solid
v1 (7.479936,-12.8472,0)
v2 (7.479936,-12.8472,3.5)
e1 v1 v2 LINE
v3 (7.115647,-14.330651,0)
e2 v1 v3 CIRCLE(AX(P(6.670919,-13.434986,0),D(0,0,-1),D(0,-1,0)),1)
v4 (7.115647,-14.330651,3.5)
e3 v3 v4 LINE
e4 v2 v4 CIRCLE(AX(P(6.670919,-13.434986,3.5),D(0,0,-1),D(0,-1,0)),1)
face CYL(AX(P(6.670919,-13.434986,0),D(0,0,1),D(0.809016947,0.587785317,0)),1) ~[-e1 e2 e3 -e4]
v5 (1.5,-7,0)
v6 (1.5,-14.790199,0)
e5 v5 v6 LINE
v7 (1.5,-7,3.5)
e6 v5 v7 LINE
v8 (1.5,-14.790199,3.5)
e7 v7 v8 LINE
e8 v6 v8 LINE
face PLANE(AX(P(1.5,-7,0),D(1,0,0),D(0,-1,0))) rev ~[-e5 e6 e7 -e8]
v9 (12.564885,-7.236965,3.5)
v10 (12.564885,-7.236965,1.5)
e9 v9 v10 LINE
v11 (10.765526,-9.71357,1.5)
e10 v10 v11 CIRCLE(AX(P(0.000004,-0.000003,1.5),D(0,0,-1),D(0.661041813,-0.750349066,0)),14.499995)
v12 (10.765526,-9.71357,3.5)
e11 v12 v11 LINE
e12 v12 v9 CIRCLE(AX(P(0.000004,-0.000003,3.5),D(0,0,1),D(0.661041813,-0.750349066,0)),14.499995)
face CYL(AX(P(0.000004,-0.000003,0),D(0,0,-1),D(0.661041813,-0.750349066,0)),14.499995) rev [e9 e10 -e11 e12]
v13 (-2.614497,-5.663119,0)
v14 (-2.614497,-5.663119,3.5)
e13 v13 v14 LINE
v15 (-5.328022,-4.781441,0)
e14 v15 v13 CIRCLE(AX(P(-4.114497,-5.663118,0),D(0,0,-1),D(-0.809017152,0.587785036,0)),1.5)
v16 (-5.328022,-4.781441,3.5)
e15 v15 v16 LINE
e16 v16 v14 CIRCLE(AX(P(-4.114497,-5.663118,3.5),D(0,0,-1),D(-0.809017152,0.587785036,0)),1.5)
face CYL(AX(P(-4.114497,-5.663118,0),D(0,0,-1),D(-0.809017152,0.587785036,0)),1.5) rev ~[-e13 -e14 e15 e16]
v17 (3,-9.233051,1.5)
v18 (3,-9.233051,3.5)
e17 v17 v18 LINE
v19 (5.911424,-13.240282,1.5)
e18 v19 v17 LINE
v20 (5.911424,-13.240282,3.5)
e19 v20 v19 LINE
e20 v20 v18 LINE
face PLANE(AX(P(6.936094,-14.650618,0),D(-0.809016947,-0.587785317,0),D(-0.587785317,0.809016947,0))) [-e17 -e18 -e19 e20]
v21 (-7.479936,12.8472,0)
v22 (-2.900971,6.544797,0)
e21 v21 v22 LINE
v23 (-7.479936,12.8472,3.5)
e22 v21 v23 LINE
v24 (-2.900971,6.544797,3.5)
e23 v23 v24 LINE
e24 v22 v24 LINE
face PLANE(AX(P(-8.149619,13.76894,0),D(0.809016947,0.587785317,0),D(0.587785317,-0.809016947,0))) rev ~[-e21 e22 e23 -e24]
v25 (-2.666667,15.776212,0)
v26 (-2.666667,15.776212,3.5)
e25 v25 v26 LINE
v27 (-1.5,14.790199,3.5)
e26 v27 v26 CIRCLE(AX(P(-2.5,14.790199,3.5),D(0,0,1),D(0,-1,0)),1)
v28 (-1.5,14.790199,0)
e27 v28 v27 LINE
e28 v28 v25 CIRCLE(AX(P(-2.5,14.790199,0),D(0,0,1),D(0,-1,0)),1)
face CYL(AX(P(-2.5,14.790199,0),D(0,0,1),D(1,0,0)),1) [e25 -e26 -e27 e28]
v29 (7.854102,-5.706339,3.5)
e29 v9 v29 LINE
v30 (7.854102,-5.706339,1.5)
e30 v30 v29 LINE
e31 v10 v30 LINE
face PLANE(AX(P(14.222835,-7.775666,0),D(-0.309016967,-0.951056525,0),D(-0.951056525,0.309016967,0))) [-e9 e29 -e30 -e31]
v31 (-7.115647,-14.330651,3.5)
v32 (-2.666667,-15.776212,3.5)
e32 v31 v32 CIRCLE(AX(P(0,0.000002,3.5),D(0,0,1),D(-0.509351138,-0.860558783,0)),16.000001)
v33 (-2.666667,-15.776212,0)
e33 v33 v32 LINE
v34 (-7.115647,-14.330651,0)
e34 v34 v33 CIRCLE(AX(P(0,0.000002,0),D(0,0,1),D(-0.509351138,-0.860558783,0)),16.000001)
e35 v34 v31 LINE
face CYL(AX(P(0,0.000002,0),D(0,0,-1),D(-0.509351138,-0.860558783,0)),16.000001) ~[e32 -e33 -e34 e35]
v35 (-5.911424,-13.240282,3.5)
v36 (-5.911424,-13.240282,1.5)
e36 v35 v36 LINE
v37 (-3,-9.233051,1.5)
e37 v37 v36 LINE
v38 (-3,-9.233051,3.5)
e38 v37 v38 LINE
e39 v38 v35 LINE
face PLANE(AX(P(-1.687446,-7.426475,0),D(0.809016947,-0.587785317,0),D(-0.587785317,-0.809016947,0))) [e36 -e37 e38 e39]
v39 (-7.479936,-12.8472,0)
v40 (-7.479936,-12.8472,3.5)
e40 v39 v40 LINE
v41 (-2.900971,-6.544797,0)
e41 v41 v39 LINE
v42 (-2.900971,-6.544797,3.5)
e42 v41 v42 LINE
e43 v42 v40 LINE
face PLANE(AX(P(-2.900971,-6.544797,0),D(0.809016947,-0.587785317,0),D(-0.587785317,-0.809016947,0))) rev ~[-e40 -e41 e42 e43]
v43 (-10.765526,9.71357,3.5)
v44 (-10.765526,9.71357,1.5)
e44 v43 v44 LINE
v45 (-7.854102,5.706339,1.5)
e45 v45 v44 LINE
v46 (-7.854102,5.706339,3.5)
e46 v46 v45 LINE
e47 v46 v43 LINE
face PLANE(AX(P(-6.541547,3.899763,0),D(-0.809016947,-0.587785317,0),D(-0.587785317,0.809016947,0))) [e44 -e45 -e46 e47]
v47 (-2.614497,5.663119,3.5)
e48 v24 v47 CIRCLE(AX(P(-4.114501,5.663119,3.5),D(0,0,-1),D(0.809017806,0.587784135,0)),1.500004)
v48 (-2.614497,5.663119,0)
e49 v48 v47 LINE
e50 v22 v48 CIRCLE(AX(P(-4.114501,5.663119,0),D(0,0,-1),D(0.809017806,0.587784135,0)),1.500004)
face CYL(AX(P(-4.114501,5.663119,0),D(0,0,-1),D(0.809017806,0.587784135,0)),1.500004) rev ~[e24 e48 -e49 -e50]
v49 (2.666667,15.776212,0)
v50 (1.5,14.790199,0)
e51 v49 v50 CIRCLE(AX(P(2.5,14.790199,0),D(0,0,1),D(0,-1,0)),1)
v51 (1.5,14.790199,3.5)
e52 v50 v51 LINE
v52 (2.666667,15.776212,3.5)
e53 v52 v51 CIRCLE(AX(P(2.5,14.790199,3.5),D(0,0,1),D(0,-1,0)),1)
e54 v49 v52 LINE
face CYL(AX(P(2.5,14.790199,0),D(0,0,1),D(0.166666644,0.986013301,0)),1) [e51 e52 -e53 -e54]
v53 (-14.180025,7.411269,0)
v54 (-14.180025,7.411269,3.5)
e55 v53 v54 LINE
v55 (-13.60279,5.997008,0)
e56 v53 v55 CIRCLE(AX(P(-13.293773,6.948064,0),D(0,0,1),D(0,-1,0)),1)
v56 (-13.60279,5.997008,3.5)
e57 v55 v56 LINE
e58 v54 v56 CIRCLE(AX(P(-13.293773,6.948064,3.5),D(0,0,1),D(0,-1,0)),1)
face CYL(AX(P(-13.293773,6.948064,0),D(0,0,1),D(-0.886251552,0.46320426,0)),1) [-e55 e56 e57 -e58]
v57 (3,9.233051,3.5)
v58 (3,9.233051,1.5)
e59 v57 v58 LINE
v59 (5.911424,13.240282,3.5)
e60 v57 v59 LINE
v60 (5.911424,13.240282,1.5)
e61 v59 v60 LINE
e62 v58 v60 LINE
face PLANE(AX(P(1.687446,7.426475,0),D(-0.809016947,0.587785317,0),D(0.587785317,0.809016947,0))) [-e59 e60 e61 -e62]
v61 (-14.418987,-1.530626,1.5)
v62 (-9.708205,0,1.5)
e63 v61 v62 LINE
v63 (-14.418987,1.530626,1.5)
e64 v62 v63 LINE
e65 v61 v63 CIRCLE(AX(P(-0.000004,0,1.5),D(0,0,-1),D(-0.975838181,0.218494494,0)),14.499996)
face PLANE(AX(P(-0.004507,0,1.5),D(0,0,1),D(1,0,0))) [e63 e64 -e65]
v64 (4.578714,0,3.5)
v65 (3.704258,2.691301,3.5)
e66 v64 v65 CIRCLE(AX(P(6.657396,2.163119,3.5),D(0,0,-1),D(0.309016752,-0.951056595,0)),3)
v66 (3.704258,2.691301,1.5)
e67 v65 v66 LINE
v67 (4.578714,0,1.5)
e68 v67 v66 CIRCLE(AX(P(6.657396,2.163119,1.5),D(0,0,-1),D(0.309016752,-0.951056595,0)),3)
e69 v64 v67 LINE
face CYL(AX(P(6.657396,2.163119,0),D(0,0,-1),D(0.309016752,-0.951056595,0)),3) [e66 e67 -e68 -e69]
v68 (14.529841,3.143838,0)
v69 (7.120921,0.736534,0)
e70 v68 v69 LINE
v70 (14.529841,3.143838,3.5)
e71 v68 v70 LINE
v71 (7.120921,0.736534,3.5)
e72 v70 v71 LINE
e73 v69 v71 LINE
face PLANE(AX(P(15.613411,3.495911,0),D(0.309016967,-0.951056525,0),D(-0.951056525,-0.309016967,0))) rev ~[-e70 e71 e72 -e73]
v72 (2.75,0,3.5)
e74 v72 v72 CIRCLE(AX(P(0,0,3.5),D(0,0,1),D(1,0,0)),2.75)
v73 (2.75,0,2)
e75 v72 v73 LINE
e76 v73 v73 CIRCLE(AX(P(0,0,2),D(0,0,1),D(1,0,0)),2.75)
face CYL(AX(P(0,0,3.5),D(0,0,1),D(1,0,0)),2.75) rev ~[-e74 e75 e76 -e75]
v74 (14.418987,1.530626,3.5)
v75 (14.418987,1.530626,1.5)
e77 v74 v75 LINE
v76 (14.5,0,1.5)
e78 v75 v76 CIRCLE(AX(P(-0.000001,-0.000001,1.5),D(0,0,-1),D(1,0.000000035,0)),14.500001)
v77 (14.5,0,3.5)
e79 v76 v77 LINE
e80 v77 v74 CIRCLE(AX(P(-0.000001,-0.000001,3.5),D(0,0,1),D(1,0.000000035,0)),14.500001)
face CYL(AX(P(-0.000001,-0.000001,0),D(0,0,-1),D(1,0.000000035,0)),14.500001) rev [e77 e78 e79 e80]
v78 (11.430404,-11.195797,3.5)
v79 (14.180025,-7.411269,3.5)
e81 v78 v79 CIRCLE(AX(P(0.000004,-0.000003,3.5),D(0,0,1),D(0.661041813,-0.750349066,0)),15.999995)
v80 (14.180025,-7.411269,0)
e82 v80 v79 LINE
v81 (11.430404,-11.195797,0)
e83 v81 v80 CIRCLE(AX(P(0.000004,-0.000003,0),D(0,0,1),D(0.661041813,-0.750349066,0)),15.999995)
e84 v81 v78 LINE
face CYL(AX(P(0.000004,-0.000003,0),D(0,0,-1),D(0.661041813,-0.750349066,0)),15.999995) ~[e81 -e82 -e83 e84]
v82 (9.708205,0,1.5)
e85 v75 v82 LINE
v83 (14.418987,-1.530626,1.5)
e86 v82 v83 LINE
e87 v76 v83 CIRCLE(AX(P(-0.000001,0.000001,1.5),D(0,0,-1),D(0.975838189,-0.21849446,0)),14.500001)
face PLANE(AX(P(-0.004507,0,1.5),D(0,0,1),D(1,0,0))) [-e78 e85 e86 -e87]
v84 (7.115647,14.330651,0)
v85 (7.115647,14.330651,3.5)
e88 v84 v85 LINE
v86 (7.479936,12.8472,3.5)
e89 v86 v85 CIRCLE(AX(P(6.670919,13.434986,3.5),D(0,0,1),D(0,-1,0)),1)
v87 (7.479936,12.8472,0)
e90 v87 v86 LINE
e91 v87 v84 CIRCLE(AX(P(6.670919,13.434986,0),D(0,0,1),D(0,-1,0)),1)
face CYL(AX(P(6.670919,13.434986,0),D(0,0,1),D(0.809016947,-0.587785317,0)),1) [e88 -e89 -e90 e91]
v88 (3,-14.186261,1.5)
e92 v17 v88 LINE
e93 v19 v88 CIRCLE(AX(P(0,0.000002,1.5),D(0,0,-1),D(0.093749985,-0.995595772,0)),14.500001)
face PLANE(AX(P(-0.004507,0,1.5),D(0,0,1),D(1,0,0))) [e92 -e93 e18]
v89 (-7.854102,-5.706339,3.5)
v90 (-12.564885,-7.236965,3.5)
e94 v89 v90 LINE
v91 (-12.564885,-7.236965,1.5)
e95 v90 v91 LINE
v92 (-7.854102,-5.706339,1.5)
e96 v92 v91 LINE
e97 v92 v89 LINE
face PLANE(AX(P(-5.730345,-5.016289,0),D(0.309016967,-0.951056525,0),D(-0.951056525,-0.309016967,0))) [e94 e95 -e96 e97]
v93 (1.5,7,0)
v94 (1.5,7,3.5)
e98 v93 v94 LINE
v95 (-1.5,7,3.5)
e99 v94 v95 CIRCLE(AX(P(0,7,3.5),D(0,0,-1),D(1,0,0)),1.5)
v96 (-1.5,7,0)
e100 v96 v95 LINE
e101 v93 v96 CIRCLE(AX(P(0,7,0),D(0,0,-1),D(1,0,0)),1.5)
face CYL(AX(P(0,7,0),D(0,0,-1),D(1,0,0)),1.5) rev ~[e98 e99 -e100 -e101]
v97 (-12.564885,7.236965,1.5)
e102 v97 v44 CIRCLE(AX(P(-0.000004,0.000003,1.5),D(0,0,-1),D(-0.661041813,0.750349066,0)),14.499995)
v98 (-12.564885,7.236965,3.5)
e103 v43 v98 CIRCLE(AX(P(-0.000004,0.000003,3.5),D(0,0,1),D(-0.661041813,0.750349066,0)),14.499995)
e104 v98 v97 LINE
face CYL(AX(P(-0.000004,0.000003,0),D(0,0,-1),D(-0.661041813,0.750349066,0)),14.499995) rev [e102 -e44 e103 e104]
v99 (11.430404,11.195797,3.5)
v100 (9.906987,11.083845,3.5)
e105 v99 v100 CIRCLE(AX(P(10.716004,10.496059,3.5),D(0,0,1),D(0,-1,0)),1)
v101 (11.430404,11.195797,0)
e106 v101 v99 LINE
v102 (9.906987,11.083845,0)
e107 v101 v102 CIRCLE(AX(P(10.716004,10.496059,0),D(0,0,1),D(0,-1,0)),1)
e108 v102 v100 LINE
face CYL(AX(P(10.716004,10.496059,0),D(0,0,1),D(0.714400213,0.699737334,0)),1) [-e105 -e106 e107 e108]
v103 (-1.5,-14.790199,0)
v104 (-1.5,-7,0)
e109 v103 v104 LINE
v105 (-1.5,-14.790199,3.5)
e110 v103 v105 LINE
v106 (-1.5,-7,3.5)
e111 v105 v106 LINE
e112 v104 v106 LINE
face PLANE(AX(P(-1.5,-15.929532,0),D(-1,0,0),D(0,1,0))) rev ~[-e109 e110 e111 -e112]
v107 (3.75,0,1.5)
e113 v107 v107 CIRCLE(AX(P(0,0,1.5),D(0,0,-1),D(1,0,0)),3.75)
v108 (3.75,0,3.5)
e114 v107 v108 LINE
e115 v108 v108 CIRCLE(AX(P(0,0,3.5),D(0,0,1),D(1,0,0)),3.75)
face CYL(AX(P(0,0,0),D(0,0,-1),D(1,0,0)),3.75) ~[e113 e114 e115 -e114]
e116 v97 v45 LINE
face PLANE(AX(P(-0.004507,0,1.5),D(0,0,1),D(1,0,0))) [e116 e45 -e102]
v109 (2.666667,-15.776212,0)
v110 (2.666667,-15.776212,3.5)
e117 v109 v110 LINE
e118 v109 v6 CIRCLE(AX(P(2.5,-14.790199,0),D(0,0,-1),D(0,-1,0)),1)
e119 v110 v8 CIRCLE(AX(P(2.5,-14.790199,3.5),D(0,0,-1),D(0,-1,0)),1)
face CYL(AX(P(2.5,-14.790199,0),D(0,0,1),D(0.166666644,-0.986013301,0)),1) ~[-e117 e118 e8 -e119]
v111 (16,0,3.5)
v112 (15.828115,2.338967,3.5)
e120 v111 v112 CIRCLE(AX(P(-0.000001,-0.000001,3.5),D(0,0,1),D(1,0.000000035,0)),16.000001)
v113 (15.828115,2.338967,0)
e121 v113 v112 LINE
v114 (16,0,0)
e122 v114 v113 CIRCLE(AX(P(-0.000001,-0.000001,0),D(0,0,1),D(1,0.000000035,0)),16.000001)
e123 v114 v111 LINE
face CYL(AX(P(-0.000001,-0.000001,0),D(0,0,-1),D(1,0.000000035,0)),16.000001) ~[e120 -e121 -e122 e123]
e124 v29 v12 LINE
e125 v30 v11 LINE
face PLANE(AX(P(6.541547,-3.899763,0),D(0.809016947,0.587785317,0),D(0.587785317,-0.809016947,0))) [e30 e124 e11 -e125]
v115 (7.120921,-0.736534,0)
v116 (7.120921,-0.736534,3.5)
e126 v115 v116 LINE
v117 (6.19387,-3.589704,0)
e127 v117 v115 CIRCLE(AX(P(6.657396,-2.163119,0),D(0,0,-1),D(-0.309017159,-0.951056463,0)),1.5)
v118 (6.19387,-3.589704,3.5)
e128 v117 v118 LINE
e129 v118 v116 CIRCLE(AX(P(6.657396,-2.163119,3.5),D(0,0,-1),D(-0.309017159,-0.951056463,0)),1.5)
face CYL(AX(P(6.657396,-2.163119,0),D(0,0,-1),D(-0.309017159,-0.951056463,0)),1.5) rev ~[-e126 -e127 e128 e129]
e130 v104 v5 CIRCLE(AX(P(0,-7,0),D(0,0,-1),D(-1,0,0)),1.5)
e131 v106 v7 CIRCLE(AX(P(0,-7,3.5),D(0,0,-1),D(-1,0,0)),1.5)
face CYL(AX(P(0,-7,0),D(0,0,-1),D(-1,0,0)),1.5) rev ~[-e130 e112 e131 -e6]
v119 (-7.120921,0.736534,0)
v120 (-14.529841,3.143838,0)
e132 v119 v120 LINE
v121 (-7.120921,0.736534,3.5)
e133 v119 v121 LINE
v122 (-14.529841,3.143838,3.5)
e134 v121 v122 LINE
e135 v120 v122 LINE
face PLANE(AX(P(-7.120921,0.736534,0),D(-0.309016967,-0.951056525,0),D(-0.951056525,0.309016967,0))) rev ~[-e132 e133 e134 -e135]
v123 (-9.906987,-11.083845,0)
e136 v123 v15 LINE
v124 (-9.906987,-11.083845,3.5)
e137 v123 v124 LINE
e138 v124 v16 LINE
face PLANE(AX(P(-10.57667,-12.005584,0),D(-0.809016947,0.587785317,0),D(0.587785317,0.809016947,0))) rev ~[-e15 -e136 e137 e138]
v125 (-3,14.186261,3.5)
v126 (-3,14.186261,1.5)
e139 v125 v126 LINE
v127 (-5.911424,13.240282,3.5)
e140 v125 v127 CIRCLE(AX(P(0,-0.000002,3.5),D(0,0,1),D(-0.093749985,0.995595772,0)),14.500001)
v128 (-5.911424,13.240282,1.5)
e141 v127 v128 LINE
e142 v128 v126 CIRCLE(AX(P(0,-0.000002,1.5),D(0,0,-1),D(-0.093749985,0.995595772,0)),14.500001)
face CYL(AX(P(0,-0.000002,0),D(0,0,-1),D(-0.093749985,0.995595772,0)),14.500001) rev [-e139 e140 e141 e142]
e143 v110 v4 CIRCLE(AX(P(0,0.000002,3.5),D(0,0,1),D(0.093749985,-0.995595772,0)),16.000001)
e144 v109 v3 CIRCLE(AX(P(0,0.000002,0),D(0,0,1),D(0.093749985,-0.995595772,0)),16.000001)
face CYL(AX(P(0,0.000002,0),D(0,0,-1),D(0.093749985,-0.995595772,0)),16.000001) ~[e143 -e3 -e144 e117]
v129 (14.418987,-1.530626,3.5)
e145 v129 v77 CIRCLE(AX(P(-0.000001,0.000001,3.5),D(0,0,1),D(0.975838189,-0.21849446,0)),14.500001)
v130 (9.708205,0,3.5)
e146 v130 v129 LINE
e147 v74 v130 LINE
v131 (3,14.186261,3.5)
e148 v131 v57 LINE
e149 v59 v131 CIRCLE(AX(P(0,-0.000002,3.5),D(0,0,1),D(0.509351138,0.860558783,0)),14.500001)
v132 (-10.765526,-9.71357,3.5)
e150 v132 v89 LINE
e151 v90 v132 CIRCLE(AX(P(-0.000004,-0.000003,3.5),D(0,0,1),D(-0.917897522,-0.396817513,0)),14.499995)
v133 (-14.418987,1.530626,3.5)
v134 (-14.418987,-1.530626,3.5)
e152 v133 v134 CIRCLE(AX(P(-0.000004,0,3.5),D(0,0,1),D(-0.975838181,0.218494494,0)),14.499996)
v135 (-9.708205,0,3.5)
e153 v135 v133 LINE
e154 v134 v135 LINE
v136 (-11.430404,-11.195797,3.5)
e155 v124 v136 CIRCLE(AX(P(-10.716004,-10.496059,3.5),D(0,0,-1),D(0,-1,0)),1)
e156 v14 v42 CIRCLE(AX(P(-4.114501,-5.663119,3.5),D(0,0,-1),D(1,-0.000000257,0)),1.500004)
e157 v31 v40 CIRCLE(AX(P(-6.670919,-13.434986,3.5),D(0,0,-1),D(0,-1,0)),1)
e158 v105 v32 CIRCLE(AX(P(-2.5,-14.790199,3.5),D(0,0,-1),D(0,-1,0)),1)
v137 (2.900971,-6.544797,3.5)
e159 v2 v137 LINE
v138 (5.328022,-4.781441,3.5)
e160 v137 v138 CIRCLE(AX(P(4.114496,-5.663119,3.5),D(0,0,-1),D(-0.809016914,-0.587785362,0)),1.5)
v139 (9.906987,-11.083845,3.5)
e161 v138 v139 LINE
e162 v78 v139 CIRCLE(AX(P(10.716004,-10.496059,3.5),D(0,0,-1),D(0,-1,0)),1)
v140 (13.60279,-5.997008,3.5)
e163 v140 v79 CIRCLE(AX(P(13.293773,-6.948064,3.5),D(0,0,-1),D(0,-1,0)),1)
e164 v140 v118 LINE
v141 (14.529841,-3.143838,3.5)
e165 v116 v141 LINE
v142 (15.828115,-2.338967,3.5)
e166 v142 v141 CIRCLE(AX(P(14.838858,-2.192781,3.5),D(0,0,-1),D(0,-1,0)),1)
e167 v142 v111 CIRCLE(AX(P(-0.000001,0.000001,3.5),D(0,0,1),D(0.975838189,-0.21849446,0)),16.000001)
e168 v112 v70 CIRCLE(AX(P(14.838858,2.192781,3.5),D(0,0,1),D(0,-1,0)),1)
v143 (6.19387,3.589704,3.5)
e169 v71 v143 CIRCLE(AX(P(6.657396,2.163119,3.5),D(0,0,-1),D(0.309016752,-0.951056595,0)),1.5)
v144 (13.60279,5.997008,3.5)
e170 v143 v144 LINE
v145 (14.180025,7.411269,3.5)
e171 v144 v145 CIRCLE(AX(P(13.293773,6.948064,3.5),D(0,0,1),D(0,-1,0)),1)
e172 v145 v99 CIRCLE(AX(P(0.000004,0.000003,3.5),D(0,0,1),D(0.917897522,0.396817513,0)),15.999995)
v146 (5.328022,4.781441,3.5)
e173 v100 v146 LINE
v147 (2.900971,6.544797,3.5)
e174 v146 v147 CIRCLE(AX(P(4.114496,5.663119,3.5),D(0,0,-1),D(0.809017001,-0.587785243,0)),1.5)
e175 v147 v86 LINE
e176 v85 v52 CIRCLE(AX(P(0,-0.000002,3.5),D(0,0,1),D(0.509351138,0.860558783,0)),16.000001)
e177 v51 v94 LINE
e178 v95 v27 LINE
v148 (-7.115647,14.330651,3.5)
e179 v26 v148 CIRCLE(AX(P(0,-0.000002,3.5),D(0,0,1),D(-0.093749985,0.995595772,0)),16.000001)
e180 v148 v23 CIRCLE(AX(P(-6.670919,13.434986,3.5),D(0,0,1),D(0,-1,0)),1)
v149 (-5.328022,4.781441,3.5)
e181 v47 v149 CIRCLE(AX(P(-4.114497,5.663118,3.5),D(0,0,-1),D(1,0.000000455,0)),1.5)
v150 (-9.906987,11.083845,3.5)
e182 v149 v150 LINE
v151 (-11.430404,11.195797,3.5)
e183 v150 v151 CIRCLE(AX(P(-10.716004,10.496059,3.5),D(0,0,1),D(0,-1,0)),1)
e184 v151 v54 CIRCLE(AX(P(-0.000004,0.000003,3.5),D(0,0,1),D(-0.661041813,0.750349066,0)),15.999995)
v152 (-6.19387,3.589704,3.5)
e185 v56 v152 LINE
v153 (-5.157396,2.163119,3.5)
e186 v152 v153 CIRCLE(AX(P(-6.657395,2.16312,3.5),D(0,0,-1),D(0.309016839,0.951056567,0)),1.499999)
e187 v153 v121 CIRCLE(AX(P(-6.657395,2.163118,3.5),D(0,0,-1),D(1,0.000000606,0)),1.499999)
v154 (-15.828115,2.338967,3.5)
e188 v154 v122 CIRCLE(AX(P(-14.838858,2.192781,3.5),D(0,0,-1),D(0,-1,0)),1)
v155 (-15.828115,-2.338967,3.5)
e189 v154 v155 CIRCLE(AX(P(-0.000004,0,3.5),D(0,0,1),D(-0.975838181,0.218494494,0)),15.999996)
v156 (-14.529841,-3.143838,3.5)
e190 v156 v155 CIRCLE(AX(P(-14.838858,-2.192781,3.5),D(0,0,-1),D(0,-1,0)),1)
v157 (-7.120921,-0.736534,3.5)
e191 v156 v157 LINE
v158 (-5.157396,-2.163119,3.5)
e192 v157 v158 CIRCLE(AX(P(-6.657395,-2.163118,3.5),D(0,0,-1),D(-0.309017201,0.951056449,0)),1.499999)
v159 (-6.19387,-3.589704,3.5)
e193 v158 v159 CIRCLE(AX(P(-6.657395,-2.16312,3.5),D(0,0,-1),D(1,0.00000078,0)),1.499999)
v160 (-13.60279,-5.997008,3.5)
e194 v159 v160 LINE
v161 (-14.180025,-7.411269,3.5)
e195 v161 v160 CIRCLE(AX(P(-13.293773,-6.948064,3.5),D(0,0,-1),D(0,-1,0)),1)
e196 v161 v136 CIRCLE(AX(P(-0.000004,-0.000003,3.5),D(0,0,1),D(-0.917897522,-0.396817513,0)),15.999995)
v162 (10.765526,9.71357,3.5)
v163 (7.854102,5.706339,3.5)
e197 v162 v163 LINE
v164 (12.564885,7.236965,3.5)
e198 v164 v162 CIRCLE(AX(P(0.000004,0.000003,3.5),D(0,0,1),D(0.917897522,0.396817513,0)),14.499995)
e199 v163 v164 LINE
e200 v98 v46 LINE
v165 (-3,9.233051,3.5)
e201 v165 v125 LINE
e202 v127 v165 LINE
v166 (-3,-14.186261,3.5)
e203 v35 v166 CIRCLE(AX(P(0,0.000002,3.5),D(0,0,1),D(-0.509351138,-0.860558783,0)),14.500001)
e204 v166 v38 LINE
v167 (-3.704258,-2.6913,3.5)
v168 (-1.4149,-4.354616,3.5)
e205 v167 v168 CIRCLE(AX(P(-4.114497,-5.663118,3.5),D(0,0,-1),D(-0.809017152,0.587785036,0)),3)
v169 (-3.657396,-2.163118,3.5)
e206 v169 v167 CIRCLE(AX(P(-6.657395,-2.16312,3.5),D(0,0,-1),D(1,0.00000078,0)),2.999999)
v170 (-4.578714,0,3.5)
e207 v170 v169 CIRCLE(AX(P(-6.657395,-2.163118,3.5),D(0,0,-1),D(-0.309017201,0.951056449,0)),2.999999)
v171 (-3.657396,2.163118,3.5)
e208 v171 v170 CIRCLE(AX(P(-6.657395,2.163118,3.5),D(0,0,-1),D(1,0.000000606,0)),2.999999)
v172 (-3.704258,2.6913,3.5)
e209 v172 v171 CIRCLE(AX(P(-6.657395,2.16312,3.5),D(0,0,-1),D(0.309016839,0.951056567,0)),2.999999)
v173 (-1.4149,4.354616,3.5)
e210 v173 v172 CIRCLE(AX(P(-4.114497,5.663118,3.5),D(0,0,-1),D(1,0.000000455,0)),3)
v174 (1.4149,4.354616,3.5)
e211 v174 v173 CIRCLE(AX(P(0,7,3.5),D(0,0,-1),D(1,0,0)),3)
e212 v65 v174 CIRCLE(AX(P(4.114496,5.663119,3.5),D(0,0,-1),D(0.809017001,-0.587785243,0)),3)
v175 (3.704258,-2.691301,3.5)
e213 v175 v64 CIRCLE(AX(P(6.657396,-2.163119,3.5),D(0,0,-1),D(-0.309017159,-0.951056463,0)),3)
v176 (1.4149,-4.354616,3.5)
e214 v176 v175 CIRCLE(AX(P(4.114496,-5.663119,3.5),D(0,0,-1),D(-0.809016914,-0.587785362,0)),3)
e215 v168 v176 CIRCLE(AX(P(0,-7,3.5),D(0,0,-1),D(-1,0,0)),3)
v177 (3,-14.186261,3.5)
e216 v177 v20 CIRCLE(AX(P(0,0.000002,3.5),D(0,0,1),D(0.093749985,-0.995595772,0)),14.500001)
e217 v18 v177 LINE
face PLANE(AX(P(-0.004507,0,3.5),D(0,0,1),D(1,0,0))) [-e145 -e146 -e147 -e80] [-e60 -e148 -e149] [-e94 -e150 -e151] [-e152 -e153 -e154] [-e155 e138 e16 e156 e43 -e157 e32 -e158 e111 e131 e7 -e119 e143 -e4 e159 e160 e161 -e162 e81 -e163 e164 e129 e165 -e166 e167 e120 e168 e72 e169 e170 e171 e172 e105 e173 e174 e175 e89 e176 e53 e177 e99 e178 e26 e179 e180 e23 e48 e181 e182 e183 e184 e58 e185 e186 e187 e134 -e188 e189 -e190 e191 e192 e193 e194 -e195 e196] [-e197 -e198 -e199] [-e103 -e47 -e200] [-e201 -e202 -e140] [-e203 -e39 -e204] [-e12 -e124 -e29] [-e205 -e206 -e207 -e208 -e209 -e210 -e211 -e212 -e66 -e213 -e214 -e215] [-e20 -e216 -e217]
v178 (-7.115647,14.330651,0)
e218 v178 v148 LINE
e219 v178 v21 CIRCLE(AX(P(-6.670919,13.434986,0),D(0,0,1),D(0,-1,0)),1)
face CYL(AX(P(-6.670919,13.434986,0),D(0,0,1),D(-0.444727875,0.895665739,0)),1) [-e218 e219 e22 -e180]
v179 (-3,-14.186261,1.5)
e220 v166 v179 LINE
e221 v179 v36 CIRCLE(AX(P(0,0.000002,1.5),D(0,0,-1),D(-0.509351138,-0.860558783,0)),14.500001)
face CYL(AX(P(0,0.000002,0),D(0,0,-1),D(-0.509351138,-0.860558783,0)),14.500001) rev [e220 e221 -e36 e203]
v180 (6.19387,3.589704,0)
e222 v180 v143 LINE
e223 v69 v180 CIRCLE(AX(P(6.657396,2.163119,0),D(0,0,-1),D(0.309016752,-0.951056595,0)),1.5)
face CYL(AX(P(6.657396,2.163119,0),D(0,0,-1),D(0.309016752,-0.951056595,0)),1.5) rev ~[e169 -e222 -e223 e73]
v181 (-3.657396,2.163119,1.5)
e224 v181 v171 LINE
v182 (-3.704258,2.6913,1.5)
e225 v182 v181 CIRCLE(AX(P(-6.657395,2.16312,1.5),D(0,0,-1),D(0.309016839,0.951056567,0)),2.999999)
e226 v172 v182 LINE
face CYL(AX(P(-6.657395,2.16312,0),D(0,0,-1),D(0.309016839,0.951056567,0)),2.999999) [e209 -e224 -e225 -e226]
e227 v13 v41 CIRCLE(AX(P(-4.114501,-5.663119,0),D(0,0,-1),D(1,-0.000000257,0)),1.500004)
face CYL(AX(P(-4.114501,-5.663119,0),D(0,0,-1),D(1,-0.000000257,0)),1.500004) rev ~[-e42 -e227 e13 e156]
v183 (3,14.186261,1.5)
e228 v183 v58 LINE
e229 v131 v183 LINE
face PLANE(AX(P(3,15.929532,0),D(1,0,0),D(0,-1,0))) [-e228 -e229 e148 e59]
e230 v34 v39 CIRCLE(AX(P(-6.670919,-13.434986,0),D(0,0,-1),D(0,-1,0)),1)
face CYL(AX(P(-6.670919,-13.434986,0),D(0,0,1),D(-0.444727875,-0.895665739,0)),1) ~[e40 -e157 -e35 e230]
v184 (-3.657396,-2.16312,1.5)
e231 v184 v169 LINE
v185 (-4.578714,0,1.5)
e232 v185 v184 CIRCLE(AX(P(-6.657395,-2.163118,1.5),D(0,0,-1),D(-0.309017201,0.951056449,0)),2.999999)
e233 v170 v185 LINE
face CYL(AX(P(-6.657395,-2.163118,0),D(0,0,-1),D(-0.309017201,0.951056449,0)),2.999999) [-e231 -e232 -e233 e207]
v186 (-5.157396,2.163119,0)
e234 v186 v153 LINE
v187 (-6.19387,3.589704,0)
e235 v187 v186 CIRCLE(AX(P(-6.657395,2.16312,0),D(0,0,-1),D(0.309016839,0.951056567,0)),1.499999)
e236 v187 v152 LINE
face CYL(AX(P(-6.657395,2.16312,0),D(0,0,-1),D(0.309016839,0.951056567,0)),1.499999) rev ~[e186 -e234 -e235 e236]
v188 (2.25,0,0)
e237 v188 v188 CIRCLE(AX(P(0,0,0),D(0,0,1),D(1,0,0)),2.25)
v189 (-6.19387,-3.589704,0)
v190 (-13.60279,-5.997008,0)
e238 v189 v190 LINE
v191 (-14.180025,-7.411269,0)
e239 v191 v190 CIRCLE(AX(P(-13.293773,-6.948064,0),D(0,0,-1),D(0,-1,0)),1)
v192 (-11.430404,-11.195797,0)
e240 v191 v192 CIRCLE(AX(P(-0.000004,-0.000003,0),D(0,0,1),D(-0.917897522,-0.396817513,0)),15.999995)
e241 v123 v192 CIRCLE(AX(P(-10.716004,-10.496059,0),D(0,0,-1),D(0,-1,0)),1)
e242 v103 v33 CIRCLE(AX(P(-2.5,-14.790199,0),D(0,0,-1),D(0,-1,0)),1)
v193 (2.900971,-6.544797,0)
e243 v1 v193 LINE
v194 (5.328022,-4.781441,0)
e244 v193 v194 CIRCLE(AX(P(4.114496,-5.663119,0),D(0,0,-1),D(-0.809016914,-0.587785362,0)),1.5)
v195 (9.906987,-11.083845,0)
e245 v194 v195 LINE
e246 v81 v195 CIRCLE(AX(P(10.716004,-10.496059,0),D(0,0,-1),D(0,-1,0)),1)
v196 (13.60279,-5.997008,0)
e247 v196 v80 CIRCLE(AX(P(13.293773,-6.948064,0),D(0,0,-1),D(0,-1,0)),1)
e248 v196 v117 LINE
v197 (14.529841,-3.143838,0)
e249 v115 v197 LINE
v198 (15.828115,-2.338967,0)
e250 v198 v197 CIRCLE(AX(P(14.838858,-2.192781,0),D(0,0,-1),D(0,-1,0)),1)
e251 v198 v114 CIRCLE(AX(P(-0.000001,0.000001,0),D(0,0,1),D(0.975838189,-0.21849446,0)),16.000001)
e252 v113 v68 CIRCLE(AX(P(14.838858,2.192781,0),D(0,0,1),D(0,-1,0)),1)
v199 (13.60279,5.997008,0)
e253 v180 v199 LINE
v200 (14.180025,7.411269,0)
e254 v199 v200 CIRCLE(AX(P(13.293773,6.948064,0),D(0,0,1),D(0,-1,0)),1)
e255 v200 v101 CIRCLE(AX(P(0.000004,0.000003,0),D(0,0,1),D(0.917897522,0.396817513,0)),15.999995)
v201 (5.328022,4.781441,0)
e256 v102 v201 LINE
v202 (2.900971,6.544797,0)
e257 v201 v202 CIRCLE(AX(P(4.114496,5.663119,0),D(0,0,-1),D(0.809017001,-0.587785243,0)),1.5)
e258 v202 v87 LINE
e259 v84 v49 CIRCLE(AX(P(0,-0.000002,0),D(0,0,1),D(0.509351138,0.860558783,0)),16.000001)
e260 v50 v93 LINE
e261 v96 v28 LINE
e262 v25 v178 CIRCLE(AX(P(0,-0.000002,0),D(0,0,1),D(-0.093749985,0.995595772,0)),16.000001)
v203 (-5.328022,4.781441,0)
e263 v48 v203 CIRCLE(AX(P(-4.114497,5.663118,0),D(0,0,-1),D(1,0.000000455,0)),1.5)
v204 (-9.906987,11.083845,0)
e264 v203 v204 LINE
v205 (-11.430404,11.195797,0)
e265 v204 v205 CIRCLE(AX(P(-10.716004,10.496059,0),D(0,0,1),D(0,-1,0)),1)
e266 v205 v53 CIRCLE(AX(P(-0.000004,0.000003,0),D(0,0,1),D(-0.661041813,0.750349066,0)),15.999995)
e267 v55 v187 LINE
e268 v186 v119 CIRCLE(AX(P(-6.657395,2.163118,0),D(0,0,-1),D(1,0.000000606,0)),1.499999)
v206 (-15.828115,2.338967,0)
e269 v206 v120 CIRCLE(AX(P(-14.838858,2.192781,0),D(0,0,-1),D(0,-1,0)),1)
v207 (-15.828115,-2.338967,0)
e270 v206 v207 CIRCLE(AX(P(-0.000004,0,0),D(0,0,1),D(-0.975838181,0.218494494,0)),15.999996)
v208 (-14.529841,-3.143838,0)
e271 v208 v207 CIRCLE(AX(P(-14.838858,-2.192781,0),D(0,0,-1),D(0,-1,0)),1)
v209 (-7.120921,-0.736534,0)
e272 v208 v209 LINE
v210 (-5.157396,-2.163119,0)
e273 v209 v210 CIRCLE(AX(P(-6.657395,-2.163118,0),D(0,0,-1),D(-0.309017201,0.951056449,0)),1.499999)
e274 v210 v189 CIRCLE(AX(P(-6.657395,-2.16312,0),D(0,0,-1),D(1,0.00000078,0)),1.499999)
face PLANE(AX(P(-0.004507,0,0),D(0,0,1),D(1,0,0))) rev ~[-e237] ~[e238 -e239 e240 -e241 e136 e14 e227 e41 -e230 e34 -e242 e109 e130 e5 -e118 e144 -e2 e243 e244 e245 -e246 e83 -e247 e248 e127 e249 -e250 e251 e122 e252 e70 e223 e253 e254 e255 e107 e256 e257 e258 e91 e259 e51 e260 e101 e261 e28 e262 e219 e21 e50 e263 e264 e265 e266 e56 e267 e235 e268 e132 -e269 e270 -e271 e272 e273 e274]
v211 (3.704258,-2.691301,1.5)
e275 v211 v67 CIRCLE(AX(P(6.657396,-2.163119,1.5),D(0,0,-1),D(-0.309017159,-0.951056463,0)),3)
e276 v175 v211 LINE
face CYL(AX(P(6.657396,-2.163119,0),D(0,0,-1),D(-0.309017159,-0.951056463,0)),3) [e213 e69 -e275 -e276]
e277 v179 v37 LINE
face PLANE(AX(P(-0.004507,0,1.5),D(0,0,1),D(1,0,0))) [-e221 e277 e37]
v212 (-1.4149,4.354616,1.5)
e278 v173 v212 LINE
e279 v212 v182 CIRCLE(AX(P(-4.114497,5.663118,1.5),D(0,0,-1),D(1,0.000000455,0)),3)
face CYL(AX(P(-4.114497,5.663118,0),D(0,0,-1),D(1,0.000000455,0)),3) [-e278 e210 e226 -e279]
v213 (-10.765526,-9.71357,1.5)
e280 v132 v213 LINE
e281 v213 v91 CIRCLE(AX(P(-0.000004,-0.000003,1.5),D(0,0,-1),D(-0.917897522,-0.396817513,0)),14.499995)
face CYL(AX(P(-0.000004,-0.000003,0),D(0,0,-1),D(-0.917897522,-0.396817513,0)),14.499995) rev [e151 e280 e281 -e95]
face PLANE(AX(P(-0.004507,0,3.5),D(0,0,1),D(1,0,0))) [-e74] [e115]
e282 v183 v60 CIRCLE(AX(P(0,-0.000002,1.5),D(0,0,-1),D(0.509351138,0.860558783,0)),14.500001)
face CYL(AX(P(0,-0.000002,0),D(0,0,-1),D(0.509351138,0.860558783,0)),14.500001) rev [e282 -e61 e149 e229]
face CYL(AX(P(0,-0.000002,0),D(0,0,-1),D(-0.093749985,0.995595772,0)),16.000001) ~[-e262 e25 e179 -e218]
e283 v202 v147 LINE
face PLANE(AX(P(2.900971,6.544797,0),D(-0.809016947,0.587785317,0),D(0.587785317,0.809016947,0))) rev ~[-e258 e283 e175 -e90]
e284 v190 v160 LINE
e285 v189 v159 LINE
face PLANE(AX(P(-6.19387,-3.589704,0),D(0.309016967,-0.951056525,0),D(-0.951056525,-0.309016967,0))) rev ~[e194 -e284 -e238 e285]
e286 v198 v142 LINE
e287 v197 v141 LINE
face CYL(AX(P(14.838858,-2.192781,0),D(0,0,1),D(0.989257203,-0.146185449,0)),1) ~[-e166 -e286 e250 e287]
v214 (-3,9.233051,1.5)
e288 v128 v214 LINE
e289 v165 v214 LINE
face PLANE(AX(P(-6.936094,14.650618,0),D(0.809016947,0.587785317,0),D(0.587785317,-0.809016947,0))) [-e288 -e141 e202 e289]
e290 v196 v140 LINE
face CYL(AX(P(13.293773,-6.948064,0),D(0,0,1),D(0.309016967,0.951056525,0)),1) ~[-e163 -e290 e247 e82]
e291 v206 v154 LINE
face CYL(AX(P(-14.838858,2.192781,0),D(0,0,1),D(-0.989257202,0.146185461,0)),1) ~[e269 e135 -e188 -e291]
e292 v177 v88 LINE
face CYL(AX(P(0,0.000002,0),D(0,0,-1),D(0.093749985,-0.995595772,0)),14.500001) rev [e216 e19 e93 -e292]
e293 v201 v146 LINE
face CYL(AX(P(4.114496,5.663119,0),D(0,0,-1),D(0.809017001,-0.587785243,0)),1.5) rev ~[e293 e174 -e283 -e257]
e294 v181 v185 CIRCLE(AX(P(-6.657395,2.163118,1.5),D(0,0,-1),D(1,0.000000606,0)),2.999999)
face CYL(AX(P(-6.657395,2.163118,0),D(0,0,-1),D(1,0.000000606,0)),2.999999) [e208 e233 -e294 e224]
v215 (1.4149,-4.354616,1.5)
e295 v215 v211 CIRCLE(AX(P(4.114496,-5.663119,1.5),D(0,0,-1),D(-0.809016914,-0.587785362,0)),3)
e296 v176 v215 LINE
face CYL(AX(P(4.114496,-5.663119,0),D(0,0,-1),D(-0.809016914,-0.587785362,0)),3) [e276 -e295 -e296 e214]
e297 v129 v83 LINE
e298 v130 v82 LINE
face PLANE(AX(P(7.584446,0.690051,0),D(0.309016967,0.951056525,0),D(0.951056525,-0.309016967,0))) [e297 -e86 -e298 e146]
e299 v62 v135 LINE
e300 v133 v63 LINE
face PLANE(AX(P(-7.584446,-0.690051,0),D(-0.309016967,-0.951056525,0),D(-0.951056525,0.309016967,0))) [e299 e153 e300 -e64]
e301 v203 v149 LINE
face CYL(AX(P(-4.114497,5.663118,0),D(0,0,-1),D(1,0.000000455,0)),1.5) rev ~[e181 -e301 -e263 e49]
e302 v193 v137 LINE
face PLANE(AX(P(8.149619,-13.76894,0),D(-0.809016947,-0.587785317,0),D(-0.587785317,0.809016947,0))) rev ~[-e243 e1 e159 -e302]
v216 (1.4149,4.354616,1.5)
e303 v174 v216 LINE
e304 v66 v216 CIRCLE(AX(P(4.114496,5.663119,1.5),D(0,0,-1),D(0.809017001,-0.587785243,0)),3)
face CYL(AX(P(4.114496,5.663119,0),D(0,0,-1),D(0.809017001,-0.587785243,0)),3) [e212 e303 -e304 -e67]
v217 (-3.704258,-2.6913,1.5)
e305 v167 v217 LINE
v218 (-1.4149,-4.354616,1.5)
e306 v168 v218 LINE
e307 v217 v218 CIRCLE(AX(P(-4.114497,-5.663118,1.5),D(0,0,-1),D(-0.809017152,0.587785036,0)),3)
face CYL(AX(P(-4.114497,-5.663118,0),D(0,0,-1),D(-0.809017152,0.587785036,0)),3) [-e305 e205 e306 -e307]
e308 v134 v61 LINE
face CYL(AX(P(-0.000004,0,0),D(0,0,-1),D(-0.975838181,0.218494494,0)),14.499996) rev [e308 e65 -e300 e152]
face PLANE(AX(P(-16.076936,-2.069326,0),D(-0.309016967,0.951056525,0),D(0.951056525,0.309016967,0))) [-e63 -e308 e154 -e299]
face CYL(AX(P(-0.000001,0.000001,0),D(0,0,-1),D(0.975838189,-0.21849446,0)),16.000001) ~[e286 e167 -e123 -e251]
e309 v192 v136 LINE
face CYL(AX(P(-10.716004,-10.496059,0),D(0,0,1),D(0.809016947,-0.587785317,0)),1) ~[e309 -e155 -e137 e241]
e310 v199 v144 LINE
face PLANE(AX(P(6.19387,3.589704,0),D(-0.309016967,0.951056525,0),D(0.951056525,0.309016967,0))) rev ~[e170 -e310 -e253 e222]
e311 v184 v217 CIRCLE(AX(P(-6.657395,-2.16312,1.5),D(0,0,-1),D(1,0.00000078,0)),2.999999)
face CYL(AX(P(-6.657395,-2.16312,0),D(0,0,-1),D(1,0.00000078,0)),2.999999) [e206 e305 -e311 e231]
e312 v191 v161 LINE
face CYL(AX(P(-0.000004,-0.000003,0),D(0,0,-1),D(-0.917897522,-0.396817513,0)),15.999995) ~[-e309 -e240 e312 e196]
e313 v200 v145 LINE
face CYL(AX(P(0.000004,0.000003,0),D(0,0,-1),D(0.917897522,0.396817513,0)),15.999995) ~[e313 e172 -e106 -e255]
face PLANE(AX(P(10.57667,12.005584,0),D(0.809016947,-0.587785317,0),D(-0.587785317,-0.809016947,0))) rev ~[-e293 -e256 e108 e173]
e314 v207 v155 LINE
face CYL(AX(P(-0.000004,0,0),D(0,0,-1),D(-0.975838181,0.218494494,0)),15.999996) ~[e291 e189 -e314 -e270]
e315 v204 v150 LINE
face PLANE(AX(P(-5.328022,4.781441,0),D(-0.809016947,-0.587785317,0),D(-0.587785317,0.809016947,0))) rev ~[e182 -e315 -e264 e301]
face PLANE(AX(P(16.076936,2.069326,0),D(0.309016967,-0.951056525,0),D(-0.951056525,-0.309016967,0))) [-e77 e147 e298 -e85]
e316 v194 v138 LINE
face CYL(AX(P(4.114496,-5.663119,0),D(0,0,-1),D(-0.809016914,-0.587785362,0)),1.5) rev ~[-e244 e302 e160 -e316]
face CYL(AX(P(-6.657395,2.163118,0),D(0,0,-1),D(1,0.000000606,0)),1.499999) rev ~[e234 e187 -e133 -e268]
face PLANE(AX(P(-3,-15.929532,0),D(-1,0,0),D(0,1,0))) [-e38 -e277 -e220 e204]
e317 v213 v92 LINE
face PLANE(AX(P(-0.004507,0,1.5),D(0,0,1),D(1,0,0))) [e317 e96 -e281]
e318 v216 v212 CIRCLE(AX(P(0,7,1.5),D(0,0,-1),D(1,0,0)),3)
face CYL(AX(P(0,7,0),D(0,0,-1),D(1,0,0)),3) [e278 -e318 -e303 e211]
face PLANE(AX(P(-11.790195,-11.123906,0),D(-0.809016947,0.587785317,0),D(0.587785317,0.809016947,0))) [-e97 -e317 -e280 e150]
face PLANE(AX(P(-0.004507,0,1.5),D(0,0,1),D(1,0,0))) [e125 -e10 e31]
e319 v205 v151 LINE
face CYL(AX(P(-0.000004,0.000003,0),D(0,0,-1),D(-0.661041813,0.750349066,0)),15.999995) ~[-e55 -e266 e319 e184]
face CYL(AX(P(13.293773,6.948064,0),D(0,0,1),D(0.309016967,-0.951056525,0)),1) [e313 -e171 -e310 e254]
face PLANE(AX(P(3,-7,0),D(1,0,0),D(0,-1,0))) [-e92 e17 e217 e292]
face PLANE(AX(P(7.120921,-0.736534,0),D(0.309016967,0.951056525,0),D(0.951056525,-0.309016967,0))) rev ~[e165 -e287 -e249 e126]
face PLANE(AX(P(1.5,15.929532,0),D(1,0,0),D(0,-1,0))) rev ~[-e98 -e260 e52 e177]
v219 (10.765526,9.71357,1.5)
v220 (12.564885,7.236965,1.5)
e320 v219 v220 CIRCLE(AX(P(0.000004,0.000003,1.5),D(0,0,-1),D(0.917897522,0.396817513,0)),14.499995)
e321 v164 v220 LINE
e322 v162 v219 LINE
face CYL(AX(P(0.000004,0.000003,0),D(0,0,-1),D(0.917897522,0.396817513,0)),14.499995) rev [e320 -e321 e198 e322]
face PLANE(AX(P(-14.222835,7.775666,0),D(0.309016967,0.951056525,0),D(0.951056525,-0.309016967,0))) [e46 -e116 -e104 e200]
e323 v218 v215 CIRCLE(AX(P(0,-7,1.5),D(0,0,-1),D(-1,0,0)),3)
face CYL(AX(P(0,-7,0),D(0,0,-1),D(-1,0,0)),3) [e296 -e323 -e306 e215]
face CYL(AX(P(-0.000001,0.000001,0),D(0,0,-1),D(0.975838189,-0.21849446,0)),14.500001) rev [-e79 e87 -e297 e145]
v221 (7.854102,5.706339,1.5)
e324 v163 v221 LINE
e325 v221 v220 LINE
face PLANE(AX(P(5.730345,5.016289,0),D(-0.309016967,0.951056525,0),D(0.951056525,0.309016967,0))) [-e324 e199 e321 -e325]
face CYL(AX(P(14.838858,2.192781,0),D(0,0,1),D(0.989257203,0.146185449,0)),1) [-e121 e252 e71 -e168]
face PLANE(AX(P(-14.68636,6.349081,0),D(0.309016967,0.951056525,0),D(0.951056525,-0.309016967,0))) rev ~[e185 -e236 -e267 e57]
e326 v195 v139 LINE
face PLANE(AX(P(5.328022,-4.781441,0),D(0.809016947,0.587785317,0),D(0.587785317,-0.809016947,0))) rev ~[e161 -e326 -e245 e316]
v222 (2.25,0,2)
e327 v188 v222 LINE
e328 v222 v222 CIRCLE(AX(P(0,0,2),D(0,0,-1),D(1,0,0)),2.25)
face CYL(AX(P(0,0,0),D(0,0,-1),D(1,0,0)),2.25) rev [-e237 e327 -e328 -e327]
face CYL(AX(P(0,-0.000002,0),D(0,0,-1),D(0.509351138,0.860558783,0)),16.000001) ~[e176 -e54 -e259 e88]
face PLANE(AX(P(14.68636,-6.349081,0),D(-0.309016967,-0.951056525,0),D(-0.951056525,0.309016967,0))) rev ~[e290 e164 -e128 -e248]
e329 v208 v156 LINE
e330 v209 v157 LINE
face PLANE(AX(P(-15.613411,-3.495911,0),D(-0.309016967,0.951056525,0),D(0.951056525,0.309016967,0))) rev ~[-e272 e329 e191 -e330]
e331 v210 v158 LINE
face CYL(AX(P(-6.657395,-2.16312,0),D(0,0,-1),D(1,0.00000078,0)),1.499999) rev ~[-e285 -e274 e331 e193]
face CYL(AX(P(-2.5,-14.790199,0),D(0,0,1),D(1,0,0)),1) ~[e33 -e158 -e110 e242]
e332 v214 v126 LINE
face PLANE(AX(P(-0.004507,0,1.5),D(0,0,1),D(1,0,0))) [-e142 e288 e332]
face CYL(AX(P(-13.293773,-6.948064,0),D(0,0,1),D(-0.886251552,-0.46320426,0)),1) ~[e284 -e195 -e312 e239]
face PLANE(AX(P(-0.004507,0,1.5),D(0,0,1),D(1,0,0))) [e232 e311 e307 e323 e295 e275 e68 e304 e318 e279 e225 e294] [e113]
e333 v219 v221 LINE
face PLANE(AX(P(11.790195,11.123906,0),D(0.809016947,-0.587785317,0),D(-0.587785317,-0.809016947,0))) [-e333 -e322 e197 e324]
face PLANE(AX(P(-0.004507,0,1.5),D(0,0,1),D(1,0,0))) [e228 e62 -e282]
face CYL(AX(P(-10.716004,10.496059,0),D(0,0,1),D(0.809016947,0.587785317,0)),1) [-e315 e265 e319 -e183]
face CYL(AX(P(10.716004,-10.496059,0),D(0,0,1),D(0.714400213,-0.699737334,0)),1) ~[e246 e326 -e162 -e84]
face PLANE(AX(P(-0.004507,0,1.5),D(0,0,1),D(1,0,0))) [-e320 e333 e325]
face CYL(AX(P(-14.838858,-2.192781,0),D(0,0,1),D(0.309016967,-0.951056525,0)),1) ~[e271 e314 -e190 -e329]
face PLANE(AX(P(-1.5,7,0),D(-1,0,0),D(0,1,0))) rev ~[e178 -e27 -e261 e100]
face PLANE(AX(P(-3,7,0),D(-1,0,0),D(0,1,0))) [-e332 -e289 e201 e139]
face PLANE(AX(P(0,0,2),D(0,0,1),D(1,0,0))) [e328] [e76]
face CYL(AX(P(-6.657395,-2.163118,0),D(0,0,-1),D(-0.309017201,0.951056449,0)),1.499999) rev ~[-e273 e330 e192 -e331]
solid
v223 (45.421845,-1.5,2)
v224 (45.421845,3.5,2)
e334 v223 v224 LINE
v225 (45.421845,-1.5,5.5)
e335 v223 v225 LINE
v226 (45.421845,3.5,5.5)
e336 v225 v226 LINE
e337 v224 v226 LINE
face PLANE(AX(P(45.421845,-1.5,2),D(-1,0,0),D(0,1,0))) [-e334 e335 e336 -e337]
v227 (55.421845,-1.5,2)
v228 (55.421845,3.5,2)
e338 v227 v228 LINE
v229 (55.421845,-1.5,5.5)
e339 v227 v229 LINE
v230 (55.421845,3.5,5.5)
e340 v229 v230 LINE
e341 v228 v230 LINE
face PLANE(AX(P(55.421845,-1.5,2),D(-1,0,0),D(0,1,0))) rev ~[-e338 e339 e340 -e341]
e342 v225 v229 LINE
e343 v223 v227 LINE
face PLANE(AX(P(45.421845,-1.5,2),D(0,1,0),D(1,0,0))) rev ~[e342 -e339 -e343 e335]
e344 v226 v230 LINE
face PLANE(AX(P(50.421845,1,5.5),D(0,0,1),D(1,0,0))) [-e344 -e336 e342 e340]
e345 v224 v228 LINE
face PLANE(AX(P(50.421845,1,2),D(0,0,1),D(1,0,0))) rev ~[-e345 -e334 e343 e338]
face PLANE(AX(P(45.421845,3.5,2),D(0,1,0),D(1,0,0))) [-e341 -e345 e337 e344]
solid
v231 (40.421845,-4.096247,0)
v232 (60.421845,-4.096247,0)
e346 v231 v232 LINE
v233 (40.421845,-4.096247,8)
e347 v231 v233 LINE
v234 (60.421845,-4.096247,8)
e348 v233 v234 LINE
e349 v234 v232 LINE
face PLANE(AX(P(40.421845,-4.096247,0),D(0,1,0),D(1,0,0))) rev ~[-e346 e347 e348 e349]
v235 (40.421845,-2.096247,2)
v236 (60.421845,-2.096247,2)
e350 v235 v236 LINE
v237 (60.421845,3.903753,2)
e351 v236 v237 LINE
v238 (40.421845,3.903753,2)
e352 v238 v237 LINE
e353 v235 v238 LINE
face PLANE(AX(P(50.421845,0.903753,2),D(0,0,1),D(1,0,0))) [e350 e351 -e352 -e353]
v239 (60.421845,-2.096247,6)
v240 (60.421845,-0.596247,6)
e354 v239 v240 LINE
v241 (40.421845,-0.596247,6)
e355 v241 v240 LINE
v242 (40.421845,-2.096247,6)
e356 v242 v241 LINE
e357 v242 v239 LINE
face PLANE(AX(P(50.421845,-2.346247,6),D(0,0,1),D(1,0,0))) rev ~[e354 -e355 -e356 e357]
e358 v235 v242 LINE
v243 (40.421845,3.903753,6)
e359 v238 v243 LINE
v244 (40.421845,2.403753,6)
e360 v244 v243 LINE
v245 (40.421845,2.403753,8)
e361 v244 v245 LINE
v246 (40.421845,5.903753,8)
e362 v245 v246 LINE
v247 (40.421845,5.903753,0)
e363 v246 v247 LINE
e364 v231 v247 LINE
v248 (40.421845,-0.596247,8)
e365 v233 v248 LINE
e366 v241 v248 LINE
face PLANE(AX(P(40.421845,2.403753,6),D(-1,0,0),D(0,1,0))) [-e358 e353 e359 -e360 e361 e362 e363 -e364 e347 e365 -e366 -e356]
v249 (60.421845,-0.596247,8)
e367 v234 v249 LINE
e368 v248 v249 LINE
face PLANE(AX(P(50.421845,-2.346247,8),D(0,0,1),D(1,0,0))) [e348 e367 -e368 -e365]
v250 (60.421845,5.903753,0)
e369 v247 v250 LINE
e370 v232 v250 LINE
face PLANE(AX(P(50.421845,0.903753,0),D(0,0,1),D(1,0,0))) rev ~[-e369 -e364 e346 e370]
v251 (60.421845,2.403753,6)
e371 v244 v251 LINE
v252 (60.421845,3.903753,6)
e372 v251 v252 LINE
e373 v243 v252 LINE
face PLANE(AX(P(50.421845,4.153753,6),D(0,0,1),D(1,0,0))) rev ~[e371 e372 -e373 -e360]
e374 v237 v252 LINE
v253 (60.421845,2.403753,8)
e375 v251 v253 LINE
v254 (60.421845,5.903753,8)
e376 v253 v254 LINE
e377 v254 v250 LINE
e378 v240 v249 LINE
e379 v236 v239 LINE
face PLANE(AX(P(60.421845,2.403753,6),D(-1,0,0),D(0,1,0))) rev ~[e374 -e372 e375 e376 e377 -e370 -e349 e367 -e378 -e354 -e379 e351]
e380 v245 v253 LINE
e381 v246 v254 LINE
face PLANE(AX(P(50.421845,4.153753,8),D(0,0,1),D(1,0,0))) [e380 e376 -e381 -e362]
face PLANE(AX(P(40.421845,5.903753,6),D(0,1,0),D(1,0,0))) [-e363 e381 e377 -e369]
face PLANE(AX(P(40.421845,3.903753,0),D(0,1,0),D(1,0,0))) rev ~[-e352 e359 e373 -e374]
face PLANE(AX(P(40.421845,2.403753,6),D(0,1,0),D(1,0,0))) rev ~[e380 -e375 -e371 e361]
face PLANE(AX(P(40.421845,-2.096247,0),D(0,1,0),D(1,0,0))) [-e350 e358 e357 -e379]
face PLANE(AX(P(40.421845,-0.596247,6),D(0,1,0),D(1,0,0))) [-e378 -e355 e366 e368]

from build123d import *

# Parameters (mm, degrees)
F0_R      = 2.25
F1_DEPTH  = 3.5
F2_T      = -1.5
F3_R      = 2.75
F4_DEPTH  = 1.5
F5_R      = 1
F6_W      = 20
F6_H      = 10
F7_DEPTH  = 6
F8_T      = -2
F9_W      = 20
F9_H      = 3.5
F10_DEPTH = 2
F11_W     = 10
F11_H     = 5
F12_DEPTH = 3.5


with BuildPart() as f1:
    # F0 (on Top) → F1 (new body)
    with BuildSketch(Plane.XY):
        with BuildLine():
            ThreePointArc((15.613411, -3.495911), (15.903059, -1.758611), (16, 0))
            ThreePointArc((16, 0), (15.903059, 1.758611), (15.613411, 3.495911))
            Line((15.613411, 3.495911), (7.120921, 0.736534))
            ThreePointArc((7.120921, 0.736534), (5.230811, 1.699593), (6.19387, 3.589704))
            Line((6.19387, 3.589704), (14.68636, 6.349081))
            ThreePointArc((14.68636, 6.349081), (12.944272, 9.404564), (10.57667, 12.005584))
            Line((10.57667, 12.005584), (5.328022, 4.781441))
            ThreePointArc((5.328022, 4.781441), (3.232819, 4.449593), (2.900971, 6.544797))
            Line((2.900971, 6.544797), (8.149619, 13.76894))
            ThreePointArc((8.149619, 13.76894), (4.944272, 15.216904), (1.5, 15.929532))
            Line((1.5, 15.929532), (1.5, 7))
            ThreePointArc((1.5, 7), (0, 5.5), (-1.5, 7))
            Line((-1.5, 7), (-1.5, 15.929532))
            ThreePointArc((-1.5, 15.929532), (-4.944272, 15.216904), (-8.149619, 13.76894))
            Line((-8.149619, 13.76894), (-2.900971, 6.544797))
            ThreePointArc((-2.900971, 6.544797), (-2.687912, 6.126644), (-2.614497, 5.663119))
            ThreePointArc((-2.614497, 5.663119), (-3.650971, 4.236534), (-5.328022, 4.781441))
            Line((-5.328022, 4.781441), (-10.57667, 12.005584))
            ThreePointArc((-10.57667, 12.005584), (-12.944272, 9.404564), (-14.68636, 6.349081))
            Line((-14.68636, 6.349081), (-6.19387, 3.589704))
            ThreePointArc((-6.19387, 3.589704), (-5.44387, 3.044797), (-5.157396, 2.163119))
            ThreePointArc((-5.157396, 2.163119), (-5.775718, 0.949593), (-7.120921, 0.736534))
            Line((-7.120921, 0.736534), (-15.613411, 3.495911))
            ThreePointArc((-15.613411, 3.495911), (-16, 0), (-15.613411, -3.495911))
            Line((-15.613411, -3.495911), (-7.120921, -0.736534))
            ThreePointArc((-7.120921, -0.736534), (-5.775718, -0.949593), (-5.157396, -2.163119))
            ThreePointArc((-5.157396, -2.163119), (-5.44387, -3.044797), (-6.19387, -3.589704))
            Line((-6.19387, -3.589704), (-14.68636, -6.349081))
            ThreePointArc((-14.68636, -6.349081), (-12.944272, -9.404564), (-10.57667, -12.005584))
            Line((-10.57667, -12.005584), (-5.328022, -4.781441))
            ThreePointArc((-5.328022, -4.781441), (-3.650971, -4.236534), (-2.614497, -5.663119))
            ThreePointArc((-2.614497, -5.663119), (-2.687912, -6.126644), (-2.900971, -6.544797))
            Line((-2.900971, -6.544797), (-8.149619, -13.76894))
            ThreePointArc((-8.149619, -13.76894), (-4.944272, -15.216904), (-1.5, -15.929532))
            Line((-1.5, -15.929532), (-1.5, -7))
            ThreePointArc((-1.5, -7), (0, -5.5), (1.5, -7))
            Line((1.5, -7), (1.5, -15.929532))
            ThreePointArc((1.5, -15.929532), (4.944272, -15.216904), (8.149619, -13.76894))
            Line((8.149619, -13.76894), (2.900971, -6.544797))
            ThreePointArc((2.900971, -6.544797), (3.232819, -4.449593), (5.328022, -4.781441))
            Line((5.328022, -4.781441), (10.57667, -12.005584))
            ThreePointArc((10.57667, -12.005584), (12.944272, -9.404564), (14.68636, -6.349081))
            Line((14.68636, -6.349081), (6.19387, -3.589704))
            ThreePointArc((6.19387, -3.589704), (5.230811, -1.699593), (7.120921, -0.736534))
            Line((7.120921, -0.736534), (15.613411, -3.495911))
        make_face()
        Circle(F0_R, mode=Mode.SUBTRACT)
    extrude(amount=F1_DEPTH)

    # F2
    f2_openings = [f1.faces().sort_by_distance(p)[0] for p in [
        (15.548447, 0, 3.5),
    ]]
    offset(amount=F2_T, openings=f2_openings)

    # F3 (on face) → F4 (cut)
    with BuildSketch(Plane.XY.offset(3.5)):
        Circle(F3_R)
    extrude(amount=-F4_DEPTH, mode=Mode.SUBTRACT)

    # F5
    f5_edges = [f1.edges().sort_by_distance(p)[0] for p in [
        (-10.57667, -12.005584, 1.75),
        (-8.149619, -13.76894, 1.75),
        (-1.5, -15.929532, 1.75),
        (1.5, -15.929532, 1.75),
        (8.149619, -13.76894, 1.75),
        (10.57667, -12.005584, 1.75),
        (14.68636, -6.349081, 1.75),
        (15.613411, 3.495911, 1.75),
        (15.613411, -3.495911, 1.75),
        (14.68636, 6.349081, 1.75),
        (10.57667, 12.005584, 1.75),
        (8.149619, 13.76894, 1.75),
        (-1.5, 15.929532, 1.75),
        (1.5, 15.929532, 1.75),
        (-10.57667, 12.005584, 1.75),
        (-8.149619, 13.76894, 1.75),
        (-15.613411, 3.495911, 1.75),
        (-15.613411, -3.495911, 1.75),
        (-14.68636, -6.349081, 1.75),
        (-14.68636, 6.349081, 1.75),
    ]]
    fillet(f5_edges, radius=F5_R)


with BuildPart() as f7:
    # F6 (on Top) → F7 (new body)
    with BuildSketch(Plane.XY):
        with Locations((50.421845, 0.903753)):
            Rectangle(F6_W, F6_H)
    extrude(amount=F7_DEPTH)

    # F8
    f8_openings = [f7.faces().sort_by_distance(p)[0] for p in [
        (40.421845, 0.903753, 3),
        (50.421845, 0.903753, 6),
        (60.421845, 0.903753, 3),
    ]]
    offset(amount=F8_T, openings=f8_openings)

    # F9 (on face) → F10 (join)
    with BuildSketch(Plane.XY.offset(6)):
        with Locations((50.421845, 4.153753)):
            Rectangle(F9_W, F9_H)
        with Locations((50.421845, -2.346247)):
            Rectangle(F9_W, F9_H)
    extrude(amount=F10_DEPTH)


with BuildPart() as f12:
    # F11 (on face) → F12 (new body)
    with BuildSketch(Plane.XY.offset(2)):
        with Locations((50.421845, 1)):
            Rectangle(F11_W, F11_H)
    extrude(amount=F12_DEPTH)


solid = Compound([f1.part, f7.part, f12.part])
